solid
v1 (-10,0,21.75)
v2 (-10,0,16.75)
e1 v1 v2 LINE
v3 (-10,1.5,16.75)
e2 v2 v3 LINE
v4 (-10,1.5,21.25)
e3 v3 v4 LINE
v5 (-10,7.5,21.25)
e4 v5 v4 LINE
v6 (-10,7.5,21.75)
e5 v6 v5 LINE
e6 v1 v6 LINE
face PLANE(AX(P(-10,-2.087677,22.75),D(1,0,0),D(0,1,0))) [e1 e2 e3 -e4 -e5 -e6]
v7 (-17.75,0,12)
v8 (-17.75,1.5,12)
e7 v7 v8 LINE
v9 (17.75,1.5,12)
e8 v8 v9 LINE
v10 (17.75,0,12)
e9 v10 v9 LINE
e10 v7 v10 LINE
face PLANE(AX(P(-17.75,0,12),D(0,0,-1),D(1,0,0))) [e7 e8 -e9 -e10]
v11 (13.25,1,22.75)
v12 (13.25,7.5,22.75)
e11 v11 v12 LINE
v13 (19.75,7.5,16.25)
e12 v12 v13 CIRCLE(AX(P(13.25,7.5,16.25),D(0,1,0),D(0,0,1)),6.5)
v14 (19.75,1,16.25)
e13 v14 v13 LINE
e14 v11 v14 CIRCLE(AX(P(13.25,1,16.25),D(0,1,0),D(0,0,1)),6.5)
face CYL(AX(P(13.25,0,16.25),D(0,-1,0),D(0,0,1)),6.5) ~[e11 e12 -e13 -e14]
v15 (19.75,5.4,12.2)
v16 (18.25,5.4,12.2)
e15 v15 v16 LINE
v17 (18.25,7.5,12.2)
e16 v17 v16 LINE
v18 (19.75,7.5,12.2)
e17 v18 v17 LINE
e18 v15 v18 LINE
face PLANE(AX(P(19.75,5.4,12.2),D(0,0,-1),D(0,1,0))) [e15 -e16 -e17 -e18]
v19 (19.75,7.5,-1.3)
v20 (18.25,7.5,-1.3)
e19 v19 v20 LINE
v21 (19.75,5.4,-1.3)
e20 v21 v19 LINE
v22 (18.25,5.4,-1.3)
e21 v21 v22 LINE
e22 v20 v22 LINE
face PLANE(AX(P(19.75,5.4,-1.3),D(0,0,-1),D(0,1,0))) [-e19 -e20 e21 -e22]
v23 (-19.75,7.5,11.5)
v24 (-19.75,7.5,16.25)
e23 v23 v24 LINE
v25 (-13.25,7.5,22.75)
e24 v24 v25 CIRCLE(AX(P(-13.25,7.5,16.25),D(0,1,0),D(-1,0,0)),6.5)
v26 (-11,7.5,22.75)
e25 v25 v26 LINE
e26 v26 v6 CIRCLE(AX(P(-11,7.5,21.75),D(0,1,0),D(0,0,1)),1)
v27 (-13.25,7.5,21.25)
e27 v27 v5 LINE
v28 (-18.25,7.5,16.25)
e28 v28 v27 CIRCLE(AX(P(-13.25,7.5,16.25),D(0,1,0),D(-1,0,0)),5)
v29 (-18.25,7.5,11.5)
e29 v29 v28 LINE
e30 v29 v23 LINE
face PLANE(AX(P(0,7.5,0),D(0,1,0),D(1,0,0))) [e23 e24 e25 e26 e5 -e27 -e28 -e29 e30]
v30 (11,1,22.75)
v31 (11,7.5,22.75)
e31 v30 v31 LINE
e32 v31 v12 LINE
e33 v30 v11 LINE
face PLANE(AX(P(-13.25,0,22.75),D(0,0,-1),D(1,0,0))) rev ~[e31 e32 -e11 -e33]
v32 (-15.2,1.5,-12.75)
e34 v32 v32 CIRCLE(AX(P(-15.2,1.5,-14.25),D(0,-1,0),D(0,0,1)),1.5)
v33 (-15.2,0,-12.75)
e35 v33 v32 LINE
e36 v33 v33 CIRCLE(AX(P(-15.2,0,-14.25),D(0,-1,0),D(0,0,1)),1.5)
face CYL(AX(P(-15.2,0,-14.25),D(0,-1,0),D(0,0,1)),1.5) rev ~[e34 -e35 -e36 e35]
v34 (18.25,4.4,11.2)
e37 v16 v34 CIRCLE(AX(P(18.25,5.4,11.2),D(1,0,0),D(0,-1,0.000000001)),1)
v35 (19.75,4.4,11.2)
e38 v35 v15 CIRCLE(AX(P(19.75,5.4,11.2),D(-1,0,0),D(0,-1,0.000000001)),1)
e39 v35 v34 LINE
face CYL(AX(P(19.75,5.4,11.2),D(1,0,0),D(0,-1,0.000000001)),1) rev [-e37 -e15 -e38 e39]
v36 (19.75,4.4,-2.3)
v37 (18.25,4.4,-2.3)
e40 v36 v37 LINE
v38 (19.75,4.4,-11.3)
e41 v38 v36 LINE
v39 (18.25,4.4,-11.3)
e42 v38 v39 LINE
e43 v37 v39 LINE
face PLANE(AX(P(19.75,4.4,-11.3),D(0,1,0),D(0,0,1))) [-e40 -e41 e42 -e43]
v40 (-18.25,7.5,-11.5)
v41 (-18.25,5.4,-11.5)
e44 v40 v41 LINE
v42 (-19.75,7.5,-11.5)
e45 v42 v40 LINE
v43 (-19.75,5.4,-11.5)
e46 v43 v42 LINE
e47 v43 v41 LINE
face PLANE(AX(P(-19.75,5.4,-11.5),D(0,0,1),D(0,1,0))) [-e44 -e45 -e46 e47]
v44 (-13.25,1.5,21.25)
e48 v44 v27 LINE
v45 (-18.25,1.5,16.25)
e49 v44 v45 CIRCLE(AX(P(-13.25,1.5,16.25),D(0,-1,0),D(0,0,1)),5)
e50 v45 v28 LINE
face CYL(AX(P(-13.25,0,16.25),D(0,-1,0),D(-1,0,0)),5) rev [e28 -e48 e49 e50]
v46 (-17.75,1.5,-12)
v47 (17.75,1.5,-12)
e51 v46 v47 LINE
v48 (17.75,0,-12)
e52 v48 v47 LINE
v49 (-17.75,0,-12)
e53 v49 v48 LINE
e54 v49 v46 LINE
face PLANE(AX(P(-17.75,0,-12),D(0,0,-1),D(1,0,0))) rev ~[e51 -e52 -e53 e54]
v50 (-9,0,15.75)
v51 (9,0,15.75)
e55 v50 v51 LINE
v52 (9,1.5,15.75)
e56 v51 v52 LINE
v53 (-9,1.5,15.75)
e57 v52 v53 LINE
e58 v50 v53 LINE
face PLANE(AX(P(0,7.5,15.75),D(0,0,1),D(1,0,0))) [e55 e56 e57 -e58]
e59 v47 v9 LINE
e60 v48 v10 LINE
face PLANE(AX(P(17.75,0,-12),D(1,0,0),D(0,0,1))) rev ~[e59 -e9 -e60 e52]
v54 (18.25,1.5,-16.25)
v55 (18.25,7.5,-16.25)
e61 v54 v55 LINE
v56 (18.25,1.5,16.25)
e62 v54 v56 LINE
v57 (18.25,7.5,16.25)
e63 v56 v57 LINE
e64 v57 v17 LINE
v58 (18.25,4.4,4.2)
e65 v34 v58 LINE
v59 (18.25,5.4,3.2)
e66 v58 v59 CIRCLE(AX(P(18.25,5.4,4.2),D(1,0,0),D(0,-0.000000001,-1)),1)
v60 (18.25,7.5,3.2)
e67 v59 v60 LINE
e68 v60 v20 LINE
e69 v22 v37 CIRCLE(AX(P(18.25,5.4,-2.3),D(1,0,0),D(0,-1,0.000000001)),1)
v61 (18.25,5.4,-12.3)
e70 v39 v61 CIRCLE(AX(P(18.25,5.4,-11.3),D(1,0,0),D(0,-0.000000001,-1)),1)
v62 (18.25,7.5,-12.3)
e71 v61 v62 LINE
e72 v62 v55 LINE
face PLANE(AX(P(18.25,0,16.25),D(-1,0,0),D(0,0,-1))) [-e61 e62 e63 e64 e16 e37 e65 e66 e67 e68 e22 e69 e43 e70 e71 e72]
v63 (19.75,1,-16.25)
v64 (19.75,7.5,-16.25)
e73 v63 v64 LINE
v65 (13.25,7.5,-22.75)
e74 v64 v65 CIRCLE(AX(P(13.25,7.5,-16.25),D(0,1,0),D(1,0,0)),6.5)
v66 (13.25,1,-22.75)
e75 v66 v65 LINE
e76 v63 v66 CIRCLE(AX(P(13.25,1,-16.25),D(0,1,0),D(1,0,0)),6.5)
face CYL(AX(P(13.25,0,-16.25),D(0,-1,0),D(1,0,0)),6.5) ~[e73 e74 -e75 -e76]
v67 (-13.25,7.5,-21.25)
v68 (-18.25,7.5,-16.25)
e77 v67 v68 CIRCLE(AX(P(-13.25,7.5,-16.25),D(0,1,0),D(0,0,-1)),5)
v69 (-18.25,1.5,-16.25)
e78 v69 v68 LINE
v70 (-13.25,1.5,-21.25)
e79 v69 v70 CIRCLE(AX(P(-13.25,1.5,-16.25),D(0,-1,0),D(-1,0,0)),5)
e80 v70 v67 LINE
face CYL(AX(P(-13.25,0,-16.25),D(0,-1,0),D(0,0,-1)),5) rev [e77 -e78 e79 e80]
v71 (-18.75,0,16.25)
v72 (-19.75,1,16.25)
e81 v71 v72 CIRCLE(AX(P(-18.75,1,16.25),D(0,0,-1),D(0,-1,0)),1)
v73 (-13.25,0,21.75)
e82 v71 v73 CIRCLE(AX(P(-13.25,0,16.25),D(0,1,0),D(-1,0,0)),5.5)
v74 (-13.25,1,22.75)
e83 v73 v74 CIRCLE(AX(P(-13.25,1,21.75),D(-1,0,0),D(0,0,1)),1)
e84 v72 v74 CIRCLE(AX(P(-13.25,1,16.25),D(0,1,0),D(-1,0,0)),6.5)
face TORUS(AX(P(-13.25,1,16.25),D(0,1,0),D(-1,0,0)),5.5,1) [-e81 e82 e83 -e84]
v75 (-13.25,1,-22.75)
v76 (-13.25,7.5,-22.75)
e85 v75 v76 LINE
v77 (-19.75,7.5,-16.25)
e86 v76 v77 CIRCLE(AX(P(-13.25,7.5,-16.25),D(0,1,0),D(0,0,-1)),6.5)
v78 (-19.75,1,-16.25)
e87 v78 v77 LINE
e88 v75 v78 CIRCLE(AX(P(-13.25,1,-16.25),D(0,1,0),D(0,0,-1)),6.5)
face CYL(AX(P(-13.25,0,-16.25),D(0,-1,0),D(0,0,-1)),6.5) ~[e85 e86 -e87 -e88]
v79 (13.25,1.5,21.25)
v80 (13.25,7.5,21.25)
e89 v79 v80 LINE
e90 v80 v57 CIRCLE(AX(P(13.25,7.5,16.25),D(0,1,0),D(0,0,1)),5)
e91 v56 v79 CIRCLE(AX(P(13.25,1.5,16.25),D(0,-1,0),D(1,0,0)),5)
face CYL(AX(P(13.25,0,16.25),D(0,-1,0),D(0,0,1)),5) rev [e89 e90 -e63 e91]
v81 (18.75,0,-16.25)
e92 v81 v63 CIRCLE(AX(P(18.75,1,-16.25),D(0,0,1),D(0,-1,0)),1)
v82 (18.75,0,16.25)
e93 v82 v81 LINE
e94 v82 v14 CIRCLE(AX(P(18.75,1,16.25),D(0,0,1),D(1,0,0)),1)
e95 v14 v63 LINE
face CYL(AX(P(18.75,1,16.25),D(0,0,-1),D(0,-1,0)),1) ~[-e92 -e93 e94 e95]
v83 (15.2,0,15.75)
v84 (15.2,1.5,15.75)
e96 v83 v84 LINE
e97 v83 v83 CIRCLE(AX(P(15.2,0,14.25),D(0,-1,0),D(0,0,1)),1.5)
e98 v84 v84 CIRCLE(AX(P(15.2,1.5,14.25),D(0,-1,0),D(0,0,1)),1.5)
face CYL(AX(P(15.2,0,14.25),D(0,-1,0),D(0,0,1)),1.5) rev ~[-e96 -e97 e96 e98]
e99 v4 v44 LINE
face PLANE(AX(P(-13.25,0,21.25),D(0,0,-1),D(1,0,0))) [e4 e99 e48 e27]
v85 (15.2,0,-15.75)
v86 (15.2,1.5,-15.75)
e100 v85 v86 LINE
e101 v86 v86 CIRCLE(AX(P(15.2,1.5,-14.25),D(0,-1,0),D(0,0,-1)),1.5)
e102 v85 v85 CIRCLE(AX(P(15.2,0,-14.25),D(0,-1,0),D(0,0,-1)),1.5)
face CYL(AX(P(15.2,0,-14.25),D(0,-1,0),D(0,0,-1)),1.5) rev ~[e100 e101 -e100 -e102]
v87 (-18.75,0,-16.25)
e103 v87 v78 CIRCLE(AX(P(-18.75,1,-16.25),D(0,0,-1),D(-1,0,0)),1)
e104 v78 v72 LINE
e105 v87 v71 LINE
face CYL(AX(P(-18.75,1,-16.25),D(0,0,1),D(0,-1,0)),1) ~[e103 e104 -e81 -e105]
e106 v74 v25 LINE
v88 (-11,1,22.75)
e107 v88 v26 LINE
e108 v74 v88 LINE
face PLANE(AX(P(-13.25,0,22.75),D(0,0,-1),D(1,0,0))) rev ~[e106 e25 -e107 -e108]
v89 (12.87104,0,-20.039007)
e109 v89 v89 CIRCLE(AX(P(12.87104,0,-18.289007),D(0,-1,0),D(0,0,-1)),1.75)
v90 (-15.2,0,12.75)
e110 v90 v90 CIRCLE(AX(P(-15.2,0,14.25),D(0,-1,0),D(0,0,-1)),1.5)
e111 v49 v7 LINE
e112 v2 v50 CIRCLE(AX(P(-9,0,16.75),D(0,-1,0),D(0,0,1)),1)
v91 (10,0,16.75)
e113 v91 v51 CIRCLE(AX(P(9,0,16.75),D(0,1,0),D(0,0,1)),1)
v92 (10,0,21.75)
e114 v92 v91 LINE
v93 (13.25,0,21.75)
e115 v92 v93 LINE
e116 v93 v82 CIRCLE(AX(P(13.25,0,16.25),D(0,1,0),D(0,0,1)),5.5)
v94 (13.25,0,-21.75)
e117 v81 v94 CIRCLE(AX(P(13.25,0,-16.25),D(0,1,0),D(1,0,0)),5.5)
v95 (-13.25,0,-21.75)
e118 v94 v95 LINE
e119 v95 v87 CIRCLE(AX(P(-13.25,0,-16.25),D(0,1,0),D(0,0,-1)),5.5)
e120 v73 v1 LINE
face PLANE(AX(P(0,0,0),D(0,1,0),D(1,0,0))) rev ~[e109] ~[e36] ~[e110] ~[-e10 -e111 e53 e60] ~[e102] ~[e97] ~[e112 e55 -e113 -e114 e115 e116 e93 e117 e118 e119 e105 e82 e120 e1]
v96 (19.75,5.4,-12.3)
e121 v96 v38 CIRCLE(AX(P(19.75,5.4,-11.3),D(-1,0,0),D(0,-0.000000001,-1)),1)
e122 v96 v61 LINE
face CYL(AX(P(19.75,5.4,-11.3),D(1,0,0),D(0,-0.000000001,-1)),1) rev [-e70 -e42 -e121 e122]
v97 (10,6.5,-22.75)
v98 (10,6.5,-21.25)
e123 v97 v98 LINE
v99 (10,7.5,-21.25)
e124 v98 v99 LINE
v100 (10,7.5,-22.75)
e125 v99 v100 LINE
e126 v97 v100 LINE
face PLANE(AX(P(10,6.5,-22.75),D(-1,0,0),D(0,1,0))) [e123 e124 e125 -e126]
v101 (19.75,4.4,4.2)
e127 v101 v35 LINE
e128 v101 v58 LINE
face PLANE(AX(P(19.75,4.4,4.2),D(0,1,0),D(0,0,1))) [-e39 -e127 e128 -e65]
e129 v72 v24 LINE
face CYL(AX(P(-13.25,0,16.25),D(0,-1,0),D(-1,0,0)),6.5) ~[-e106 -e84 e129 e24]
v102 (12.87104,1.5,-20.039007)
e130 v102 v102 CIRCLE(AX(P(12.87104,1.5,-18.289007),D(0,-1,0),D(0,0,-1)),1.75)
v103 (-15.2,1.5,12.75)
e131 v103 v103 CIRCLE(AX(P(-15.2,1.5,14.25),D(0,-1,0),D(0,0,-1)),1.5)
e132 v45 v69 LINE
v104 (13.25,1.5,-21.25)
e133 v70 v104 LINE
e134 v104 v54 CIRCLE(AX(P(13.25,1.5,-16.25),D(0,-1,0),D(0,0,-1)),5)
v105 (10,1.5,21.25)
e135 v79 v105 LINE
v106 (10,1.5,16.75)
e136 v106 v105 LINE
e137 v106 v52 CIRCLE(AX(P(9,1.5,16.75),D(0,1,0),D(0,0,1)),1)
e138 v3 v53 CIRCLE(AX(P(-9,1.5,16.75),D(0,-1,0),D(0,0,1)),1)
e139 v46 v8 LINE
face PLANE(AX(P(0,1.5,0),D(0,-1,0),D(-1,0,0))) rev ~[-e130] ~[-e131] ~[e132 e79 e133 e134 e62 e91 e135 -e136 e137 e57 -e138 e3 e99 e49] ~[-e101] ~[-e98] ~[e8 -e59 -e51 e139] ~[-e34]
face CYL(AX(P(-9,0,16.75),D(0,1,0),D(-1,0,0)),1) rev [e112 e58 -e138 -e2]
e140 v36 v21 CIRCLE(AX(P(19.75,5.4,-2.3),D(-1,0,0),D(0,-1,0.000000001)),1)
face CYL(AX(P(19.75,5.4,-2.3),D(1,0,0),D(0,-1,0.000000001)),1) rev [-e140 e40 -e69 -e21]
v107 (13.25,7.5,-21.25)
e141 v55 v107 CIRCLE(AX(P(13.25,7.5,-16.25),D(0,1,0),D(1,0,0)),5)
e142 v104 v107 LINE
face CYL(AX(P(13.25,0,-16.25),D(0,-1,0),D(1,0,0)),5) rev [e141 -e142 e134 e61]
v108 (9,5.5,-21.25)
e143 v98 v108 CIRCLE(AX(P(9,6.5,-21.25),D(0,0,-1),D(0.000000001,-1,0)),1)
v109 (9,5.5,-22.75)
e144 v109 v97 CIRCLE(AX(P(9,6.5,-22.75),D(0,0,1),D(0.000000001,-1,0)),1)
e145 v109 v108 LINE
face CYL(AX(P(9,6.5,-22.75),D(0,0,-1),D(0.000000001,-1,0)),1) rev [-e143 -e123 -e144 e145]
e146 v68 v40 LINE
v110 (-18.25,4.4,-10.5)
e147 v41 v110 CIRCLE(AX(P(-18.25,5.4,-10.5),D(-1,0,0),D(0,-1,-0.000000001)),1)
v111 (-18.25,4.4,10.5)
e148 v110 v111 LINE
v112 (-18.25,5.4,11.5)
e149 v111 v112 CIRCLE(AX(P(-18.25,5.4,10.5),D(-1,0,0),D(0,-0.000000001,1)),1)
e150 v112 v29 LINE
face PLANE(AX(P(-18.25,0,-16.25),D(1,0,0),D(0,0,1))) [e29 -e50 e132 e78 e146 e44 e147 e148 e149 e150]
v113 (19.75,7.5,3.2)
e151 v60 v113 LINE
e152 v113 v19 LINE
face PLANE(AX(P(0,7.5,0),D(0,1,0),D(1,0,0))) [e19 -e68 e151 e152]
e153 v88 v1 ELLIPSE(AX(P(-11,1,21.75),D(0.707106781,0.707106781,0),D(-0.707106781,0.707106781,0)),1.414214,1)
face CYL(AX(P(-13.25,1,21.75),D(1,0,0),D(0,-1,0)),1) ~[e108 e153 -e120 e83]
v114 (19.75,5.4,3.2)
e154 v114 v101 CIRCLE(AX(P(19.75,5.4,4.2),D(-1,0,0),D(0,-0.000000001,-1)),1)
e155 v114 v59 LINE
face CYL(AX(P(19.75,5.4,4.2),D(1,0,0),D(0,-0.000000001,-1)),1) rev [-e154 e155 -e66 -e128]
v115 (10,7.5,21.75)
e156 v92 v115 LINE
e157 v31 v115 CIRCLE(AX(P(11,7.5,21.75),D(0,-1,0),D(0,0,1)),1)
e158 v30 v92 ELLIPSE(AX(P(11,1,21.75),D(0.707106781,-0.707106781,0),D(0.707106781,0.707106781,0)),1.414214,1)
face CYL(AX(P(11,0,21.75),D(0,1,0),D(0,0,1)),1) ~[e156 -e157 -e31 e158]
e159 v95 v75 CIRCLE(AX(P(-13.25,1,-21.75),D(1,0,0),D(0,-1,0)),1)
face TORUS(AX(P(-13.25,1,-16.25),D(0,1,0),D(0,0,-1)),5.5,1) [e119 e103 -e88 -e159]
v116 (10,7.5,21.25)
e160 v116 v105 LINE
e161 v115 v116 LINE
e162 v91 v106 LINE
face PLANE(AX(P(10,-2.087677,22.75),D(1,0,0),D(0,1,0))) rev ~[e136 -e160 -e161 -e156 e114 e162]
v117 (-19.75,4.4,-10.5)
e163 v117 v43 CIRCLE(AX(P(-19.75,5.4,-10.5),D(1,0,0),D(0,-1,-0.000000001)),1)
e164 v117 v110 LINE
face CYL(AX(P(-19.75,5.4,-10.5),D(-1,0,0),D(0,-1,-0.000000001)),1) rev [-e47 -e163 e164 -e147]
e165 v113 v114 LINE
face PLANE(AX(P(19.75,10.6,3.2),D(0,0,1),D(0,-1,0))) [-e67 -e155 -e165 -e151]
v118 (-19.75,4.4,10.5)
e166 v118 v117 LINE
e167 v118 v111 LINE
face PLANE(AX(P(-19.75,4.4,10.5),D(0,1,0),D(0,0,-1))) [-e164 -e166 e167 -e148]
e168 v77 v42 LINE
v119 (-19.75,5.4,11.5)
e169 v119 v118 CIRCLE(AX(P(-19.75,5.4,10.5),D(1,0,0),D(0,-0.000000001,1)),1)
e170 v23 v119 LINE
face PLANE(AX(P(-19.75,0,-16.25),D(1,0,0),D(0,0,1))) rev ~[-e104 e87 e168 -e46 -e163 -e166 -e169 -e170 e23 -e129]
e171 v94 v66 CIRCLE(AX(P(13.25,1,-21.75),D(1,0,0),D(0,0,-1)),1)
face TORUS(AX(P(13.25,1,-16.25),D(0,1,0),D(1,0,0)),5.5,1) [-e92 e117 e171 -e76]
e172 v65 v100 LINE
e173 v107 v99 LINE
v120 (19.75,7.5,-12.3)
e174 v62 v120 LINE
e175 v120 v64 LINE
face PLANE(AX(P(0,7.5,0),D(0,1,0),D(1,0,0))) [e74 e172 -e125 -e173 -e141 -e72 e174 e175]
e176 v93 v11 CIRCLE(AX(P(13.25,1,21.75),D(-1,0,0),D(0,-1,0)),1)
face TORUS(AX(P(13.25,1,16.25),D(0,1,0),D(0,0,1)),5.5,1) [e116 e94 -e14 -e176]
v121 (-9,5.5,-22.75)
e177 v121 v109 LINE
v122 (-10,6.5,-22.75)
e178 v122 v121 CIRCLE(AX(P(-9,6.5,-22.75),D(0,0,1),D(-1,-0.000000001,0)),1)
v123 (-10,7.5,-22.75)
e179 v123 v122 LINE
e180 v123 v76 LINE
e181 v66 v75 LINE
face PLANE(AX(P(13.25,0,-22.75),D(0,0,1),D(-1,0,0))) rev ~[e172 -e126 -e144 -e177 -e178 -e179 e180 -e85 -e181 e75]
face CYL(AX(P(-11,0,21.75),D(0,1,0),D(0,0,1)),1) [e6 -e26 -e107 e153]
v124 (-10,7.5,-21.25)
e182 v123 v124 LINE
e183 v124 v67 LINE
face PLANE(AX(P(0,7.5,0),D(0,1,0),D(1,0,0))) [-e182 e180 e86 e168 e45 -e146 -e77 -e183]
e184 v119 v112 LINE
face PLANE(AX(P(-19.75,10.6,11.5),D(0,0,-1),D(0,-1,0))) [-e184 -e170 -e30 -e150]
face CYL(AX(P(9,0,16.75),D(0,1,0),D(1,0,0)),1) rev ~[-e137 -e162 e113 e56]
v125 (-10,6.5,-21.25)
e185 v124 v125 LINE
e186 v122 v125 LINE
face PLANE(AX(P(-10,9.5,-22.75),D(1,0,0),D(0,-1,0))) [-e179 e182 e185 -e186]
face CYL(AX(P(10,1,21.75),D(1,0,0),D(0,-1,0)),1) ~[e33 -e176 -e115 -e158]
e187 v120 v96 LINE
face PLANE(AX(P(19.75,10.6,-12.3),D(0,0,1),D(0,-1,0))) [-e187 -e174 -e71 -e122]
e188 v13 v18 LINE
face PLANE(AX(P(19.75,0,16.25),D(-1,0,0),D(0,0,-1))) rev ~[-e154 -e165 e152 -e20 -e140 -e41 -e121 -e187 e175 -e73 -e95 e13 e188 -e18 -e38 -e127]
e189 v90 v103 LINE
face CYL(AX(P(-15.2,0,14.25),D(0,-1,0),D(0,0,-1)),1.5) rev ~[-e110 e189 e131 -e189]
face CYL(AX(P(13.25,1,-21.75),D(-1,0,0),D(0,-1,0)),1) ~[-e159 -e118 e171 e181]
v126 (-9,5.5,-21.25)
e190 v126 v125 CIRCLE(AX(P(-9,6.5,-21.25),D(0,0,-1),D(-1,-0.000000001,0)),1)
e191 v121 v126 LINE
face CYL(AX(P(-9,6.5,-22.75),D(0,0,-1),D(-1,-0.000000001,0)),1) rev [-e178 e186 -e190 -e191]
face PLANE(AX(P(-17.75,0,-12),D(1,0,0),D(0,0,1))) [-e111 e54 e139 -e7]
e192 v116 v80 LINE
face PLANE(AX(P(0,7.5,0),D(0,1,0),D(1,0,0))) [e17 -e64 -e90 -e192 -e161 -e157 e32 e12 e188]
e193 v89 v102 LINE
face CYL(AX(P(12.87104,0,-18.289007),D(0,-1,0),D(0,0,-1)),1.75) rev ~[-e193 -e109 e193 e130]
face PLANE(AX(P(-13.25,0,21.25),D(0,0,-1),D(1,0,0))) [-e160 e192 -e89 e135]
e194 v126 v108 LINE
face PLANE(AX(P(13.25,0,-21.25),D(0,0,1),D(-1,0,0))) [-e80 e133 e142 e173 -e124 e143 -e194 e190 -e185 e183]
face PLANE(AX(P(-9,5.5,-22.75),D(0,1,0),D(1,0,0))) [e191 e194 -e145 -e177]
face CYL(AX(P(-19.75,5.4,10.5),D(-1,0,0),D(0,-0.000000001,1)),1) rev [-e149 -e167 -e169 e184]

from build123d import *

# Parameters (mm, degrees)
EXTRUDE_1_DEPTH      = 1.5
EXTRUDE_2_DEPTH      = 6
EXTRUDE_2_DEPTH_BACK = 1.5
CUT_EXTRUDE_1_REACH  = 52.165
SKETCH_4_W           = 20
SKETCH_4_H           = 19.175354044
CUT_EXTRUDE_2_DEPTH  = 7
FILLET_1_R           = 1
SKETCH_5_W           = 35.5
SKETCH_5_H           = 24
CUT_EXTRUDE_3_DEPTH  = 7
SKETCH_6_R           = 1.5
CUT_EXTRUDE_4_DEPTH  = 7
CUT_EXTRUDE_5_DEPTH  = 7
CUT_EXTRUDE_6_DEPTH  = 7
SKETCH_9_R           = 1.75
CUT_EXTRUDE_7_DEPTH  = 10


with BuildPart() as part:
    # 草图1 → 凸台-拉伸1 (new body)
    with BuildSketch(Plane(origin=(0, 0, 0), x_dir=(1, 0, 0), z_dir=(0, 1, 0))):
        with BuildLine():
            Line((-13.25, 21.25), (13.25, 21.25))
            ThreePointArc((13.25, 21.25), (16.785533906, 19.785533906), (18.25, 16.25))
            Line((18.25, 16.25), (18.25, -16.25))
            ThreePointArc((18.25, -16.25), (16.785533906, -19.785533906), (13.25, -21.25))
            Line((13.25, -21.25), (-13.25, -21.25))
            ThreePointArc((-13.25, -21.25), (-16.785533906, -19.785533906), (-18.25, -16.25))
            Line((-18.25, -16.25), (-18.25, 16.25))
            ThreePointArc((-18.25, 16.25), (-16.785533906, 19.785533906), (-13.25, 21.25))
        make_face()
    extrude(amount=EXTRUDE_1_DEPTH)

    # 草图2 → 凸台-拉伸2 (add, two sides: drawn at the far end of the back side and taken through both)
    with BuildSketch(Plane(origin=(0, 1.5, 0), x_dir=(1, 0, 0), z_dir=(0, 1, 0)).offset(-EXTRUDE_2_DEPTH_BACK)):
        with BuildLine():
            Line((-13.25, -22.75), (13.25, -22.75))
            ThreePointArc((13.25, -22.75), (17.846194078, -20.846194078), (19.75, -16.25))
            Line((19.75, -16.25), (19.75, 16.25))
            ThreePointArc((19.75, 16.25), (17.846194078, 20.846194078), (13.25, 22.75))
            Line((13.25, 22.75), (-13.25, 22.75))
            ThreePointArc((-13.25, 22.75), (-17.846194078, 20.846194078), (-19.75, 16.25))
            Line((-19.75, 16.25), (-19.75, -16.25))
            ThreePointArc((-19.75, -16.25), (-17.846194078, -20.846194078), (-13.25, -22.75))
        make_face()
        with BuildLine():
            Line((-13.25, -21.25), (13.25, -21.25))
            ThreePointArc((13.25, -21.25), (16.785533906, -19.785533906), (18.25, -16.25))
            Line((18.25, -16.25), (18.25, 16.25))
            ThreePointArc((18.25, 16.25), (16.785533906, 19.785533906), (13.25, 21.25))
            Line((13.25, 21.25), (-13.25, 21.25))
            ThreePointArc((-13.25, 21.25), (-16.785533906, 19.785533906), (-18.25, 16.25))
            Line((-18.25, 16.25), (-18.25, -16.25))
            ThreePointArc((-18.25, -16.25), (-16.785533906, -19.785533906), (-13.25, -21.25))
        make_face(mode=Mode.SUBTRACT)
    extrude(amount=EXTRUDE_2_DEPTH + EXTRUDE_2_DEPTH_BACK)

    # 草图3 → 切除-拉伸1 (cut, up to next)
    with BuildSketch(Plane(origin=(0, 0, -22.75), x_dir=(-1, 0, 0), z_dir=(0, 0, -1)), mode=Mode.PRIVATE) as cut_extrude_1_sk1:
        with BuildLine():
            Line((-10, 9.5), (10, 9.5))
            Line((10, 9.5), (10, 6.5))
            ThreePointArc((10, 6.5), (9.707106781, 5.792893219), (9, 5.5))
            Line((9, 5.5), (-9, 5.5))
            ThreePointArc((-9, 5.5), (-9.707106781, 5.792893219), (-10, 6.5))
            Line((-10, 6.5), (-10, 9.5))
        make_face()
    cut_extrude_1_tool1 = extrude(cut_extrude_1_sk1.sketch, amount=-CUT_EXTRUDE_1_REACH, mode=Mode.PRIVATE) & part.part
    add(cut_extrude_1_tool1.solids().sort_by_distance((0, 7.509583, -22.75))[0], mode=Mode.SUBTRACT)

    # 草图4 → 切除-拉伸2 (cut)
    with BuildSketch(Plane.XY.offset(22.75)):
        with Locations((0, 7.5)):
            Rectangle(SKETCH_4_W, SKETCH_4_H)
    extrude(amount=-CUT_EXTRUDE_2_DEPTH, mode=Mode.SUBTRACT)

    # 圆角1
    fillet_1_edges = [part.edges().sort_by_distance(p)[0] for p in [
        (10, 0.75, 15.75),
        (-10, 0.75, 15.75),
        (-10, 3.75, 22.75),
        (10, 3.75, 22.75),
        (-17.846194078, 0, 20.846194078),
        (-19.75, 0, 0),
        (-17.846194078, 0, -20.846194078),
        (0, 0, -22.75),
        (17.846194078, 0, -20.846194078),
        (19.75, 0, 0),
        (17.846194078, 0, 20.846194078),
        (-11.625, 0, 22.75),
        (11.625, 0, 22.75),
    ]]
    fillet(fillet_1_edges, radius=FILLET_1_R)

    # 草图5 → 切除-拉伸3 (cut)
    with BuildSketch(Plane.XZ):
        Rectangle(SKETCH_5_W, SKETCH_5_H)
    extrude(amount=-CUT_EXTRUDE_3_DEPTH, mode=Mode.SUBTRACT)

    # 草图6 → 切除-拉伸4 (cut)
    with BuildSketch(Plane.XZ):
        with Locations(Location((-15.2, 14.25, 0), (0, 0, 270))):
            Circle(SKETCH_6_R)
        with Locations(Location((-15.2, -14.25, 0), (0, 0, 90))):
            Circle(SKETCH_6_R)
        with Locations(Location((15.2, -14.25, 0), (0, 0, 270))):
            Circle(SKETCH_6_R)
        with Locations(Location((15.2, 14.25, 0), (0, 0, 90))):
            Circle(SKETCH_6_R)
    extrude(amount=-CUT_EXTRUDE_4_DEPTH, mode=Mode.SUBTRACT)

    # 草图7 → 切除-拉伸5 (cut)
    with BuildSketch(Plane.ZY.offset(19.75)):
        with BuildLine():
            Line((-11.5, 10.6), (11.5, 10.6))
            Line((11.5, 10.6), (11.5, 5.4))
            ThreePointArc((11.5, 5.4), (11.207106781, 4.692893219), (10.5, 4.4))
            Line((10.5, 4.4), (-10.5, 4.4))
            ThreePointArc((-10.5, 4.4), (-11.207106781, 4.692893219), (-11.5, 5.4))
            Line((-11.5, 5.4), (-11.5, 10.6))
        make_face()
    extrude(amount=-CUT_EXTRUDE_5_DEPTH, mode=Mode.SUBTRACT)

    # 草图8 → 切除-拉伸6 (cut)
    with BuildSketch(Plane(origin=(19.75, 0, 0), x_dir=(0, 0, -1), z_dir=(1, 0, 0))):
        with BuildLine():
            Line((1.3, 10.6), (12.3, 10.6))
            Line((12.3, 10.6), (12.3, 5.4))
            ThreePointArc((12.3, 5.4), (12.007106781, 4.692893219), (11.3, 4.4))
            Line((11.3, 4.4), (2.3, 4.4))
            ThreePointArc((2.3, 4.4), (1.592893219, 4.692893219), (1.3, 5.4))
            Line((1.3, 5.4), (1.3, 10.6))
        make_face()
        with BuildLine():
            Line((-12.2, 10.6), (-3.2, 10.6))
            Line((-3.2, 10.6), (-3.2, 5.4))
            ThreePointArc((-3.2, 5.4), (-3.492893219, 4.692893219), (-4.2, 4.4))
            Line((-4.2, 4.4), (-11.2, 4.4))
            ThreePointArc((-11.2, 4.4), (-11.907106781, 4.692893219), (-12.2, 5.4))
            Line((-12.2, 5.4), (-12.2, 10.6))
        make_face()
    extrude(amount=-CUT_EXTRUDE_6_DEPTH, mode=Mode.SUBTRACT)

    # 草图9 → 切除-拉伸7 (cut)
    with BuildSketch(Plane.XZ):
        with Locations(Location((12.871040469, -18.289006858, 0), (0, 0, 270))):
            Circle(SKETCH_9_R)
    extrude(amount=-CUT_EXTRUDE_7_DEPTH, mode=Mode.SUBTRACT)


solid = part.part
